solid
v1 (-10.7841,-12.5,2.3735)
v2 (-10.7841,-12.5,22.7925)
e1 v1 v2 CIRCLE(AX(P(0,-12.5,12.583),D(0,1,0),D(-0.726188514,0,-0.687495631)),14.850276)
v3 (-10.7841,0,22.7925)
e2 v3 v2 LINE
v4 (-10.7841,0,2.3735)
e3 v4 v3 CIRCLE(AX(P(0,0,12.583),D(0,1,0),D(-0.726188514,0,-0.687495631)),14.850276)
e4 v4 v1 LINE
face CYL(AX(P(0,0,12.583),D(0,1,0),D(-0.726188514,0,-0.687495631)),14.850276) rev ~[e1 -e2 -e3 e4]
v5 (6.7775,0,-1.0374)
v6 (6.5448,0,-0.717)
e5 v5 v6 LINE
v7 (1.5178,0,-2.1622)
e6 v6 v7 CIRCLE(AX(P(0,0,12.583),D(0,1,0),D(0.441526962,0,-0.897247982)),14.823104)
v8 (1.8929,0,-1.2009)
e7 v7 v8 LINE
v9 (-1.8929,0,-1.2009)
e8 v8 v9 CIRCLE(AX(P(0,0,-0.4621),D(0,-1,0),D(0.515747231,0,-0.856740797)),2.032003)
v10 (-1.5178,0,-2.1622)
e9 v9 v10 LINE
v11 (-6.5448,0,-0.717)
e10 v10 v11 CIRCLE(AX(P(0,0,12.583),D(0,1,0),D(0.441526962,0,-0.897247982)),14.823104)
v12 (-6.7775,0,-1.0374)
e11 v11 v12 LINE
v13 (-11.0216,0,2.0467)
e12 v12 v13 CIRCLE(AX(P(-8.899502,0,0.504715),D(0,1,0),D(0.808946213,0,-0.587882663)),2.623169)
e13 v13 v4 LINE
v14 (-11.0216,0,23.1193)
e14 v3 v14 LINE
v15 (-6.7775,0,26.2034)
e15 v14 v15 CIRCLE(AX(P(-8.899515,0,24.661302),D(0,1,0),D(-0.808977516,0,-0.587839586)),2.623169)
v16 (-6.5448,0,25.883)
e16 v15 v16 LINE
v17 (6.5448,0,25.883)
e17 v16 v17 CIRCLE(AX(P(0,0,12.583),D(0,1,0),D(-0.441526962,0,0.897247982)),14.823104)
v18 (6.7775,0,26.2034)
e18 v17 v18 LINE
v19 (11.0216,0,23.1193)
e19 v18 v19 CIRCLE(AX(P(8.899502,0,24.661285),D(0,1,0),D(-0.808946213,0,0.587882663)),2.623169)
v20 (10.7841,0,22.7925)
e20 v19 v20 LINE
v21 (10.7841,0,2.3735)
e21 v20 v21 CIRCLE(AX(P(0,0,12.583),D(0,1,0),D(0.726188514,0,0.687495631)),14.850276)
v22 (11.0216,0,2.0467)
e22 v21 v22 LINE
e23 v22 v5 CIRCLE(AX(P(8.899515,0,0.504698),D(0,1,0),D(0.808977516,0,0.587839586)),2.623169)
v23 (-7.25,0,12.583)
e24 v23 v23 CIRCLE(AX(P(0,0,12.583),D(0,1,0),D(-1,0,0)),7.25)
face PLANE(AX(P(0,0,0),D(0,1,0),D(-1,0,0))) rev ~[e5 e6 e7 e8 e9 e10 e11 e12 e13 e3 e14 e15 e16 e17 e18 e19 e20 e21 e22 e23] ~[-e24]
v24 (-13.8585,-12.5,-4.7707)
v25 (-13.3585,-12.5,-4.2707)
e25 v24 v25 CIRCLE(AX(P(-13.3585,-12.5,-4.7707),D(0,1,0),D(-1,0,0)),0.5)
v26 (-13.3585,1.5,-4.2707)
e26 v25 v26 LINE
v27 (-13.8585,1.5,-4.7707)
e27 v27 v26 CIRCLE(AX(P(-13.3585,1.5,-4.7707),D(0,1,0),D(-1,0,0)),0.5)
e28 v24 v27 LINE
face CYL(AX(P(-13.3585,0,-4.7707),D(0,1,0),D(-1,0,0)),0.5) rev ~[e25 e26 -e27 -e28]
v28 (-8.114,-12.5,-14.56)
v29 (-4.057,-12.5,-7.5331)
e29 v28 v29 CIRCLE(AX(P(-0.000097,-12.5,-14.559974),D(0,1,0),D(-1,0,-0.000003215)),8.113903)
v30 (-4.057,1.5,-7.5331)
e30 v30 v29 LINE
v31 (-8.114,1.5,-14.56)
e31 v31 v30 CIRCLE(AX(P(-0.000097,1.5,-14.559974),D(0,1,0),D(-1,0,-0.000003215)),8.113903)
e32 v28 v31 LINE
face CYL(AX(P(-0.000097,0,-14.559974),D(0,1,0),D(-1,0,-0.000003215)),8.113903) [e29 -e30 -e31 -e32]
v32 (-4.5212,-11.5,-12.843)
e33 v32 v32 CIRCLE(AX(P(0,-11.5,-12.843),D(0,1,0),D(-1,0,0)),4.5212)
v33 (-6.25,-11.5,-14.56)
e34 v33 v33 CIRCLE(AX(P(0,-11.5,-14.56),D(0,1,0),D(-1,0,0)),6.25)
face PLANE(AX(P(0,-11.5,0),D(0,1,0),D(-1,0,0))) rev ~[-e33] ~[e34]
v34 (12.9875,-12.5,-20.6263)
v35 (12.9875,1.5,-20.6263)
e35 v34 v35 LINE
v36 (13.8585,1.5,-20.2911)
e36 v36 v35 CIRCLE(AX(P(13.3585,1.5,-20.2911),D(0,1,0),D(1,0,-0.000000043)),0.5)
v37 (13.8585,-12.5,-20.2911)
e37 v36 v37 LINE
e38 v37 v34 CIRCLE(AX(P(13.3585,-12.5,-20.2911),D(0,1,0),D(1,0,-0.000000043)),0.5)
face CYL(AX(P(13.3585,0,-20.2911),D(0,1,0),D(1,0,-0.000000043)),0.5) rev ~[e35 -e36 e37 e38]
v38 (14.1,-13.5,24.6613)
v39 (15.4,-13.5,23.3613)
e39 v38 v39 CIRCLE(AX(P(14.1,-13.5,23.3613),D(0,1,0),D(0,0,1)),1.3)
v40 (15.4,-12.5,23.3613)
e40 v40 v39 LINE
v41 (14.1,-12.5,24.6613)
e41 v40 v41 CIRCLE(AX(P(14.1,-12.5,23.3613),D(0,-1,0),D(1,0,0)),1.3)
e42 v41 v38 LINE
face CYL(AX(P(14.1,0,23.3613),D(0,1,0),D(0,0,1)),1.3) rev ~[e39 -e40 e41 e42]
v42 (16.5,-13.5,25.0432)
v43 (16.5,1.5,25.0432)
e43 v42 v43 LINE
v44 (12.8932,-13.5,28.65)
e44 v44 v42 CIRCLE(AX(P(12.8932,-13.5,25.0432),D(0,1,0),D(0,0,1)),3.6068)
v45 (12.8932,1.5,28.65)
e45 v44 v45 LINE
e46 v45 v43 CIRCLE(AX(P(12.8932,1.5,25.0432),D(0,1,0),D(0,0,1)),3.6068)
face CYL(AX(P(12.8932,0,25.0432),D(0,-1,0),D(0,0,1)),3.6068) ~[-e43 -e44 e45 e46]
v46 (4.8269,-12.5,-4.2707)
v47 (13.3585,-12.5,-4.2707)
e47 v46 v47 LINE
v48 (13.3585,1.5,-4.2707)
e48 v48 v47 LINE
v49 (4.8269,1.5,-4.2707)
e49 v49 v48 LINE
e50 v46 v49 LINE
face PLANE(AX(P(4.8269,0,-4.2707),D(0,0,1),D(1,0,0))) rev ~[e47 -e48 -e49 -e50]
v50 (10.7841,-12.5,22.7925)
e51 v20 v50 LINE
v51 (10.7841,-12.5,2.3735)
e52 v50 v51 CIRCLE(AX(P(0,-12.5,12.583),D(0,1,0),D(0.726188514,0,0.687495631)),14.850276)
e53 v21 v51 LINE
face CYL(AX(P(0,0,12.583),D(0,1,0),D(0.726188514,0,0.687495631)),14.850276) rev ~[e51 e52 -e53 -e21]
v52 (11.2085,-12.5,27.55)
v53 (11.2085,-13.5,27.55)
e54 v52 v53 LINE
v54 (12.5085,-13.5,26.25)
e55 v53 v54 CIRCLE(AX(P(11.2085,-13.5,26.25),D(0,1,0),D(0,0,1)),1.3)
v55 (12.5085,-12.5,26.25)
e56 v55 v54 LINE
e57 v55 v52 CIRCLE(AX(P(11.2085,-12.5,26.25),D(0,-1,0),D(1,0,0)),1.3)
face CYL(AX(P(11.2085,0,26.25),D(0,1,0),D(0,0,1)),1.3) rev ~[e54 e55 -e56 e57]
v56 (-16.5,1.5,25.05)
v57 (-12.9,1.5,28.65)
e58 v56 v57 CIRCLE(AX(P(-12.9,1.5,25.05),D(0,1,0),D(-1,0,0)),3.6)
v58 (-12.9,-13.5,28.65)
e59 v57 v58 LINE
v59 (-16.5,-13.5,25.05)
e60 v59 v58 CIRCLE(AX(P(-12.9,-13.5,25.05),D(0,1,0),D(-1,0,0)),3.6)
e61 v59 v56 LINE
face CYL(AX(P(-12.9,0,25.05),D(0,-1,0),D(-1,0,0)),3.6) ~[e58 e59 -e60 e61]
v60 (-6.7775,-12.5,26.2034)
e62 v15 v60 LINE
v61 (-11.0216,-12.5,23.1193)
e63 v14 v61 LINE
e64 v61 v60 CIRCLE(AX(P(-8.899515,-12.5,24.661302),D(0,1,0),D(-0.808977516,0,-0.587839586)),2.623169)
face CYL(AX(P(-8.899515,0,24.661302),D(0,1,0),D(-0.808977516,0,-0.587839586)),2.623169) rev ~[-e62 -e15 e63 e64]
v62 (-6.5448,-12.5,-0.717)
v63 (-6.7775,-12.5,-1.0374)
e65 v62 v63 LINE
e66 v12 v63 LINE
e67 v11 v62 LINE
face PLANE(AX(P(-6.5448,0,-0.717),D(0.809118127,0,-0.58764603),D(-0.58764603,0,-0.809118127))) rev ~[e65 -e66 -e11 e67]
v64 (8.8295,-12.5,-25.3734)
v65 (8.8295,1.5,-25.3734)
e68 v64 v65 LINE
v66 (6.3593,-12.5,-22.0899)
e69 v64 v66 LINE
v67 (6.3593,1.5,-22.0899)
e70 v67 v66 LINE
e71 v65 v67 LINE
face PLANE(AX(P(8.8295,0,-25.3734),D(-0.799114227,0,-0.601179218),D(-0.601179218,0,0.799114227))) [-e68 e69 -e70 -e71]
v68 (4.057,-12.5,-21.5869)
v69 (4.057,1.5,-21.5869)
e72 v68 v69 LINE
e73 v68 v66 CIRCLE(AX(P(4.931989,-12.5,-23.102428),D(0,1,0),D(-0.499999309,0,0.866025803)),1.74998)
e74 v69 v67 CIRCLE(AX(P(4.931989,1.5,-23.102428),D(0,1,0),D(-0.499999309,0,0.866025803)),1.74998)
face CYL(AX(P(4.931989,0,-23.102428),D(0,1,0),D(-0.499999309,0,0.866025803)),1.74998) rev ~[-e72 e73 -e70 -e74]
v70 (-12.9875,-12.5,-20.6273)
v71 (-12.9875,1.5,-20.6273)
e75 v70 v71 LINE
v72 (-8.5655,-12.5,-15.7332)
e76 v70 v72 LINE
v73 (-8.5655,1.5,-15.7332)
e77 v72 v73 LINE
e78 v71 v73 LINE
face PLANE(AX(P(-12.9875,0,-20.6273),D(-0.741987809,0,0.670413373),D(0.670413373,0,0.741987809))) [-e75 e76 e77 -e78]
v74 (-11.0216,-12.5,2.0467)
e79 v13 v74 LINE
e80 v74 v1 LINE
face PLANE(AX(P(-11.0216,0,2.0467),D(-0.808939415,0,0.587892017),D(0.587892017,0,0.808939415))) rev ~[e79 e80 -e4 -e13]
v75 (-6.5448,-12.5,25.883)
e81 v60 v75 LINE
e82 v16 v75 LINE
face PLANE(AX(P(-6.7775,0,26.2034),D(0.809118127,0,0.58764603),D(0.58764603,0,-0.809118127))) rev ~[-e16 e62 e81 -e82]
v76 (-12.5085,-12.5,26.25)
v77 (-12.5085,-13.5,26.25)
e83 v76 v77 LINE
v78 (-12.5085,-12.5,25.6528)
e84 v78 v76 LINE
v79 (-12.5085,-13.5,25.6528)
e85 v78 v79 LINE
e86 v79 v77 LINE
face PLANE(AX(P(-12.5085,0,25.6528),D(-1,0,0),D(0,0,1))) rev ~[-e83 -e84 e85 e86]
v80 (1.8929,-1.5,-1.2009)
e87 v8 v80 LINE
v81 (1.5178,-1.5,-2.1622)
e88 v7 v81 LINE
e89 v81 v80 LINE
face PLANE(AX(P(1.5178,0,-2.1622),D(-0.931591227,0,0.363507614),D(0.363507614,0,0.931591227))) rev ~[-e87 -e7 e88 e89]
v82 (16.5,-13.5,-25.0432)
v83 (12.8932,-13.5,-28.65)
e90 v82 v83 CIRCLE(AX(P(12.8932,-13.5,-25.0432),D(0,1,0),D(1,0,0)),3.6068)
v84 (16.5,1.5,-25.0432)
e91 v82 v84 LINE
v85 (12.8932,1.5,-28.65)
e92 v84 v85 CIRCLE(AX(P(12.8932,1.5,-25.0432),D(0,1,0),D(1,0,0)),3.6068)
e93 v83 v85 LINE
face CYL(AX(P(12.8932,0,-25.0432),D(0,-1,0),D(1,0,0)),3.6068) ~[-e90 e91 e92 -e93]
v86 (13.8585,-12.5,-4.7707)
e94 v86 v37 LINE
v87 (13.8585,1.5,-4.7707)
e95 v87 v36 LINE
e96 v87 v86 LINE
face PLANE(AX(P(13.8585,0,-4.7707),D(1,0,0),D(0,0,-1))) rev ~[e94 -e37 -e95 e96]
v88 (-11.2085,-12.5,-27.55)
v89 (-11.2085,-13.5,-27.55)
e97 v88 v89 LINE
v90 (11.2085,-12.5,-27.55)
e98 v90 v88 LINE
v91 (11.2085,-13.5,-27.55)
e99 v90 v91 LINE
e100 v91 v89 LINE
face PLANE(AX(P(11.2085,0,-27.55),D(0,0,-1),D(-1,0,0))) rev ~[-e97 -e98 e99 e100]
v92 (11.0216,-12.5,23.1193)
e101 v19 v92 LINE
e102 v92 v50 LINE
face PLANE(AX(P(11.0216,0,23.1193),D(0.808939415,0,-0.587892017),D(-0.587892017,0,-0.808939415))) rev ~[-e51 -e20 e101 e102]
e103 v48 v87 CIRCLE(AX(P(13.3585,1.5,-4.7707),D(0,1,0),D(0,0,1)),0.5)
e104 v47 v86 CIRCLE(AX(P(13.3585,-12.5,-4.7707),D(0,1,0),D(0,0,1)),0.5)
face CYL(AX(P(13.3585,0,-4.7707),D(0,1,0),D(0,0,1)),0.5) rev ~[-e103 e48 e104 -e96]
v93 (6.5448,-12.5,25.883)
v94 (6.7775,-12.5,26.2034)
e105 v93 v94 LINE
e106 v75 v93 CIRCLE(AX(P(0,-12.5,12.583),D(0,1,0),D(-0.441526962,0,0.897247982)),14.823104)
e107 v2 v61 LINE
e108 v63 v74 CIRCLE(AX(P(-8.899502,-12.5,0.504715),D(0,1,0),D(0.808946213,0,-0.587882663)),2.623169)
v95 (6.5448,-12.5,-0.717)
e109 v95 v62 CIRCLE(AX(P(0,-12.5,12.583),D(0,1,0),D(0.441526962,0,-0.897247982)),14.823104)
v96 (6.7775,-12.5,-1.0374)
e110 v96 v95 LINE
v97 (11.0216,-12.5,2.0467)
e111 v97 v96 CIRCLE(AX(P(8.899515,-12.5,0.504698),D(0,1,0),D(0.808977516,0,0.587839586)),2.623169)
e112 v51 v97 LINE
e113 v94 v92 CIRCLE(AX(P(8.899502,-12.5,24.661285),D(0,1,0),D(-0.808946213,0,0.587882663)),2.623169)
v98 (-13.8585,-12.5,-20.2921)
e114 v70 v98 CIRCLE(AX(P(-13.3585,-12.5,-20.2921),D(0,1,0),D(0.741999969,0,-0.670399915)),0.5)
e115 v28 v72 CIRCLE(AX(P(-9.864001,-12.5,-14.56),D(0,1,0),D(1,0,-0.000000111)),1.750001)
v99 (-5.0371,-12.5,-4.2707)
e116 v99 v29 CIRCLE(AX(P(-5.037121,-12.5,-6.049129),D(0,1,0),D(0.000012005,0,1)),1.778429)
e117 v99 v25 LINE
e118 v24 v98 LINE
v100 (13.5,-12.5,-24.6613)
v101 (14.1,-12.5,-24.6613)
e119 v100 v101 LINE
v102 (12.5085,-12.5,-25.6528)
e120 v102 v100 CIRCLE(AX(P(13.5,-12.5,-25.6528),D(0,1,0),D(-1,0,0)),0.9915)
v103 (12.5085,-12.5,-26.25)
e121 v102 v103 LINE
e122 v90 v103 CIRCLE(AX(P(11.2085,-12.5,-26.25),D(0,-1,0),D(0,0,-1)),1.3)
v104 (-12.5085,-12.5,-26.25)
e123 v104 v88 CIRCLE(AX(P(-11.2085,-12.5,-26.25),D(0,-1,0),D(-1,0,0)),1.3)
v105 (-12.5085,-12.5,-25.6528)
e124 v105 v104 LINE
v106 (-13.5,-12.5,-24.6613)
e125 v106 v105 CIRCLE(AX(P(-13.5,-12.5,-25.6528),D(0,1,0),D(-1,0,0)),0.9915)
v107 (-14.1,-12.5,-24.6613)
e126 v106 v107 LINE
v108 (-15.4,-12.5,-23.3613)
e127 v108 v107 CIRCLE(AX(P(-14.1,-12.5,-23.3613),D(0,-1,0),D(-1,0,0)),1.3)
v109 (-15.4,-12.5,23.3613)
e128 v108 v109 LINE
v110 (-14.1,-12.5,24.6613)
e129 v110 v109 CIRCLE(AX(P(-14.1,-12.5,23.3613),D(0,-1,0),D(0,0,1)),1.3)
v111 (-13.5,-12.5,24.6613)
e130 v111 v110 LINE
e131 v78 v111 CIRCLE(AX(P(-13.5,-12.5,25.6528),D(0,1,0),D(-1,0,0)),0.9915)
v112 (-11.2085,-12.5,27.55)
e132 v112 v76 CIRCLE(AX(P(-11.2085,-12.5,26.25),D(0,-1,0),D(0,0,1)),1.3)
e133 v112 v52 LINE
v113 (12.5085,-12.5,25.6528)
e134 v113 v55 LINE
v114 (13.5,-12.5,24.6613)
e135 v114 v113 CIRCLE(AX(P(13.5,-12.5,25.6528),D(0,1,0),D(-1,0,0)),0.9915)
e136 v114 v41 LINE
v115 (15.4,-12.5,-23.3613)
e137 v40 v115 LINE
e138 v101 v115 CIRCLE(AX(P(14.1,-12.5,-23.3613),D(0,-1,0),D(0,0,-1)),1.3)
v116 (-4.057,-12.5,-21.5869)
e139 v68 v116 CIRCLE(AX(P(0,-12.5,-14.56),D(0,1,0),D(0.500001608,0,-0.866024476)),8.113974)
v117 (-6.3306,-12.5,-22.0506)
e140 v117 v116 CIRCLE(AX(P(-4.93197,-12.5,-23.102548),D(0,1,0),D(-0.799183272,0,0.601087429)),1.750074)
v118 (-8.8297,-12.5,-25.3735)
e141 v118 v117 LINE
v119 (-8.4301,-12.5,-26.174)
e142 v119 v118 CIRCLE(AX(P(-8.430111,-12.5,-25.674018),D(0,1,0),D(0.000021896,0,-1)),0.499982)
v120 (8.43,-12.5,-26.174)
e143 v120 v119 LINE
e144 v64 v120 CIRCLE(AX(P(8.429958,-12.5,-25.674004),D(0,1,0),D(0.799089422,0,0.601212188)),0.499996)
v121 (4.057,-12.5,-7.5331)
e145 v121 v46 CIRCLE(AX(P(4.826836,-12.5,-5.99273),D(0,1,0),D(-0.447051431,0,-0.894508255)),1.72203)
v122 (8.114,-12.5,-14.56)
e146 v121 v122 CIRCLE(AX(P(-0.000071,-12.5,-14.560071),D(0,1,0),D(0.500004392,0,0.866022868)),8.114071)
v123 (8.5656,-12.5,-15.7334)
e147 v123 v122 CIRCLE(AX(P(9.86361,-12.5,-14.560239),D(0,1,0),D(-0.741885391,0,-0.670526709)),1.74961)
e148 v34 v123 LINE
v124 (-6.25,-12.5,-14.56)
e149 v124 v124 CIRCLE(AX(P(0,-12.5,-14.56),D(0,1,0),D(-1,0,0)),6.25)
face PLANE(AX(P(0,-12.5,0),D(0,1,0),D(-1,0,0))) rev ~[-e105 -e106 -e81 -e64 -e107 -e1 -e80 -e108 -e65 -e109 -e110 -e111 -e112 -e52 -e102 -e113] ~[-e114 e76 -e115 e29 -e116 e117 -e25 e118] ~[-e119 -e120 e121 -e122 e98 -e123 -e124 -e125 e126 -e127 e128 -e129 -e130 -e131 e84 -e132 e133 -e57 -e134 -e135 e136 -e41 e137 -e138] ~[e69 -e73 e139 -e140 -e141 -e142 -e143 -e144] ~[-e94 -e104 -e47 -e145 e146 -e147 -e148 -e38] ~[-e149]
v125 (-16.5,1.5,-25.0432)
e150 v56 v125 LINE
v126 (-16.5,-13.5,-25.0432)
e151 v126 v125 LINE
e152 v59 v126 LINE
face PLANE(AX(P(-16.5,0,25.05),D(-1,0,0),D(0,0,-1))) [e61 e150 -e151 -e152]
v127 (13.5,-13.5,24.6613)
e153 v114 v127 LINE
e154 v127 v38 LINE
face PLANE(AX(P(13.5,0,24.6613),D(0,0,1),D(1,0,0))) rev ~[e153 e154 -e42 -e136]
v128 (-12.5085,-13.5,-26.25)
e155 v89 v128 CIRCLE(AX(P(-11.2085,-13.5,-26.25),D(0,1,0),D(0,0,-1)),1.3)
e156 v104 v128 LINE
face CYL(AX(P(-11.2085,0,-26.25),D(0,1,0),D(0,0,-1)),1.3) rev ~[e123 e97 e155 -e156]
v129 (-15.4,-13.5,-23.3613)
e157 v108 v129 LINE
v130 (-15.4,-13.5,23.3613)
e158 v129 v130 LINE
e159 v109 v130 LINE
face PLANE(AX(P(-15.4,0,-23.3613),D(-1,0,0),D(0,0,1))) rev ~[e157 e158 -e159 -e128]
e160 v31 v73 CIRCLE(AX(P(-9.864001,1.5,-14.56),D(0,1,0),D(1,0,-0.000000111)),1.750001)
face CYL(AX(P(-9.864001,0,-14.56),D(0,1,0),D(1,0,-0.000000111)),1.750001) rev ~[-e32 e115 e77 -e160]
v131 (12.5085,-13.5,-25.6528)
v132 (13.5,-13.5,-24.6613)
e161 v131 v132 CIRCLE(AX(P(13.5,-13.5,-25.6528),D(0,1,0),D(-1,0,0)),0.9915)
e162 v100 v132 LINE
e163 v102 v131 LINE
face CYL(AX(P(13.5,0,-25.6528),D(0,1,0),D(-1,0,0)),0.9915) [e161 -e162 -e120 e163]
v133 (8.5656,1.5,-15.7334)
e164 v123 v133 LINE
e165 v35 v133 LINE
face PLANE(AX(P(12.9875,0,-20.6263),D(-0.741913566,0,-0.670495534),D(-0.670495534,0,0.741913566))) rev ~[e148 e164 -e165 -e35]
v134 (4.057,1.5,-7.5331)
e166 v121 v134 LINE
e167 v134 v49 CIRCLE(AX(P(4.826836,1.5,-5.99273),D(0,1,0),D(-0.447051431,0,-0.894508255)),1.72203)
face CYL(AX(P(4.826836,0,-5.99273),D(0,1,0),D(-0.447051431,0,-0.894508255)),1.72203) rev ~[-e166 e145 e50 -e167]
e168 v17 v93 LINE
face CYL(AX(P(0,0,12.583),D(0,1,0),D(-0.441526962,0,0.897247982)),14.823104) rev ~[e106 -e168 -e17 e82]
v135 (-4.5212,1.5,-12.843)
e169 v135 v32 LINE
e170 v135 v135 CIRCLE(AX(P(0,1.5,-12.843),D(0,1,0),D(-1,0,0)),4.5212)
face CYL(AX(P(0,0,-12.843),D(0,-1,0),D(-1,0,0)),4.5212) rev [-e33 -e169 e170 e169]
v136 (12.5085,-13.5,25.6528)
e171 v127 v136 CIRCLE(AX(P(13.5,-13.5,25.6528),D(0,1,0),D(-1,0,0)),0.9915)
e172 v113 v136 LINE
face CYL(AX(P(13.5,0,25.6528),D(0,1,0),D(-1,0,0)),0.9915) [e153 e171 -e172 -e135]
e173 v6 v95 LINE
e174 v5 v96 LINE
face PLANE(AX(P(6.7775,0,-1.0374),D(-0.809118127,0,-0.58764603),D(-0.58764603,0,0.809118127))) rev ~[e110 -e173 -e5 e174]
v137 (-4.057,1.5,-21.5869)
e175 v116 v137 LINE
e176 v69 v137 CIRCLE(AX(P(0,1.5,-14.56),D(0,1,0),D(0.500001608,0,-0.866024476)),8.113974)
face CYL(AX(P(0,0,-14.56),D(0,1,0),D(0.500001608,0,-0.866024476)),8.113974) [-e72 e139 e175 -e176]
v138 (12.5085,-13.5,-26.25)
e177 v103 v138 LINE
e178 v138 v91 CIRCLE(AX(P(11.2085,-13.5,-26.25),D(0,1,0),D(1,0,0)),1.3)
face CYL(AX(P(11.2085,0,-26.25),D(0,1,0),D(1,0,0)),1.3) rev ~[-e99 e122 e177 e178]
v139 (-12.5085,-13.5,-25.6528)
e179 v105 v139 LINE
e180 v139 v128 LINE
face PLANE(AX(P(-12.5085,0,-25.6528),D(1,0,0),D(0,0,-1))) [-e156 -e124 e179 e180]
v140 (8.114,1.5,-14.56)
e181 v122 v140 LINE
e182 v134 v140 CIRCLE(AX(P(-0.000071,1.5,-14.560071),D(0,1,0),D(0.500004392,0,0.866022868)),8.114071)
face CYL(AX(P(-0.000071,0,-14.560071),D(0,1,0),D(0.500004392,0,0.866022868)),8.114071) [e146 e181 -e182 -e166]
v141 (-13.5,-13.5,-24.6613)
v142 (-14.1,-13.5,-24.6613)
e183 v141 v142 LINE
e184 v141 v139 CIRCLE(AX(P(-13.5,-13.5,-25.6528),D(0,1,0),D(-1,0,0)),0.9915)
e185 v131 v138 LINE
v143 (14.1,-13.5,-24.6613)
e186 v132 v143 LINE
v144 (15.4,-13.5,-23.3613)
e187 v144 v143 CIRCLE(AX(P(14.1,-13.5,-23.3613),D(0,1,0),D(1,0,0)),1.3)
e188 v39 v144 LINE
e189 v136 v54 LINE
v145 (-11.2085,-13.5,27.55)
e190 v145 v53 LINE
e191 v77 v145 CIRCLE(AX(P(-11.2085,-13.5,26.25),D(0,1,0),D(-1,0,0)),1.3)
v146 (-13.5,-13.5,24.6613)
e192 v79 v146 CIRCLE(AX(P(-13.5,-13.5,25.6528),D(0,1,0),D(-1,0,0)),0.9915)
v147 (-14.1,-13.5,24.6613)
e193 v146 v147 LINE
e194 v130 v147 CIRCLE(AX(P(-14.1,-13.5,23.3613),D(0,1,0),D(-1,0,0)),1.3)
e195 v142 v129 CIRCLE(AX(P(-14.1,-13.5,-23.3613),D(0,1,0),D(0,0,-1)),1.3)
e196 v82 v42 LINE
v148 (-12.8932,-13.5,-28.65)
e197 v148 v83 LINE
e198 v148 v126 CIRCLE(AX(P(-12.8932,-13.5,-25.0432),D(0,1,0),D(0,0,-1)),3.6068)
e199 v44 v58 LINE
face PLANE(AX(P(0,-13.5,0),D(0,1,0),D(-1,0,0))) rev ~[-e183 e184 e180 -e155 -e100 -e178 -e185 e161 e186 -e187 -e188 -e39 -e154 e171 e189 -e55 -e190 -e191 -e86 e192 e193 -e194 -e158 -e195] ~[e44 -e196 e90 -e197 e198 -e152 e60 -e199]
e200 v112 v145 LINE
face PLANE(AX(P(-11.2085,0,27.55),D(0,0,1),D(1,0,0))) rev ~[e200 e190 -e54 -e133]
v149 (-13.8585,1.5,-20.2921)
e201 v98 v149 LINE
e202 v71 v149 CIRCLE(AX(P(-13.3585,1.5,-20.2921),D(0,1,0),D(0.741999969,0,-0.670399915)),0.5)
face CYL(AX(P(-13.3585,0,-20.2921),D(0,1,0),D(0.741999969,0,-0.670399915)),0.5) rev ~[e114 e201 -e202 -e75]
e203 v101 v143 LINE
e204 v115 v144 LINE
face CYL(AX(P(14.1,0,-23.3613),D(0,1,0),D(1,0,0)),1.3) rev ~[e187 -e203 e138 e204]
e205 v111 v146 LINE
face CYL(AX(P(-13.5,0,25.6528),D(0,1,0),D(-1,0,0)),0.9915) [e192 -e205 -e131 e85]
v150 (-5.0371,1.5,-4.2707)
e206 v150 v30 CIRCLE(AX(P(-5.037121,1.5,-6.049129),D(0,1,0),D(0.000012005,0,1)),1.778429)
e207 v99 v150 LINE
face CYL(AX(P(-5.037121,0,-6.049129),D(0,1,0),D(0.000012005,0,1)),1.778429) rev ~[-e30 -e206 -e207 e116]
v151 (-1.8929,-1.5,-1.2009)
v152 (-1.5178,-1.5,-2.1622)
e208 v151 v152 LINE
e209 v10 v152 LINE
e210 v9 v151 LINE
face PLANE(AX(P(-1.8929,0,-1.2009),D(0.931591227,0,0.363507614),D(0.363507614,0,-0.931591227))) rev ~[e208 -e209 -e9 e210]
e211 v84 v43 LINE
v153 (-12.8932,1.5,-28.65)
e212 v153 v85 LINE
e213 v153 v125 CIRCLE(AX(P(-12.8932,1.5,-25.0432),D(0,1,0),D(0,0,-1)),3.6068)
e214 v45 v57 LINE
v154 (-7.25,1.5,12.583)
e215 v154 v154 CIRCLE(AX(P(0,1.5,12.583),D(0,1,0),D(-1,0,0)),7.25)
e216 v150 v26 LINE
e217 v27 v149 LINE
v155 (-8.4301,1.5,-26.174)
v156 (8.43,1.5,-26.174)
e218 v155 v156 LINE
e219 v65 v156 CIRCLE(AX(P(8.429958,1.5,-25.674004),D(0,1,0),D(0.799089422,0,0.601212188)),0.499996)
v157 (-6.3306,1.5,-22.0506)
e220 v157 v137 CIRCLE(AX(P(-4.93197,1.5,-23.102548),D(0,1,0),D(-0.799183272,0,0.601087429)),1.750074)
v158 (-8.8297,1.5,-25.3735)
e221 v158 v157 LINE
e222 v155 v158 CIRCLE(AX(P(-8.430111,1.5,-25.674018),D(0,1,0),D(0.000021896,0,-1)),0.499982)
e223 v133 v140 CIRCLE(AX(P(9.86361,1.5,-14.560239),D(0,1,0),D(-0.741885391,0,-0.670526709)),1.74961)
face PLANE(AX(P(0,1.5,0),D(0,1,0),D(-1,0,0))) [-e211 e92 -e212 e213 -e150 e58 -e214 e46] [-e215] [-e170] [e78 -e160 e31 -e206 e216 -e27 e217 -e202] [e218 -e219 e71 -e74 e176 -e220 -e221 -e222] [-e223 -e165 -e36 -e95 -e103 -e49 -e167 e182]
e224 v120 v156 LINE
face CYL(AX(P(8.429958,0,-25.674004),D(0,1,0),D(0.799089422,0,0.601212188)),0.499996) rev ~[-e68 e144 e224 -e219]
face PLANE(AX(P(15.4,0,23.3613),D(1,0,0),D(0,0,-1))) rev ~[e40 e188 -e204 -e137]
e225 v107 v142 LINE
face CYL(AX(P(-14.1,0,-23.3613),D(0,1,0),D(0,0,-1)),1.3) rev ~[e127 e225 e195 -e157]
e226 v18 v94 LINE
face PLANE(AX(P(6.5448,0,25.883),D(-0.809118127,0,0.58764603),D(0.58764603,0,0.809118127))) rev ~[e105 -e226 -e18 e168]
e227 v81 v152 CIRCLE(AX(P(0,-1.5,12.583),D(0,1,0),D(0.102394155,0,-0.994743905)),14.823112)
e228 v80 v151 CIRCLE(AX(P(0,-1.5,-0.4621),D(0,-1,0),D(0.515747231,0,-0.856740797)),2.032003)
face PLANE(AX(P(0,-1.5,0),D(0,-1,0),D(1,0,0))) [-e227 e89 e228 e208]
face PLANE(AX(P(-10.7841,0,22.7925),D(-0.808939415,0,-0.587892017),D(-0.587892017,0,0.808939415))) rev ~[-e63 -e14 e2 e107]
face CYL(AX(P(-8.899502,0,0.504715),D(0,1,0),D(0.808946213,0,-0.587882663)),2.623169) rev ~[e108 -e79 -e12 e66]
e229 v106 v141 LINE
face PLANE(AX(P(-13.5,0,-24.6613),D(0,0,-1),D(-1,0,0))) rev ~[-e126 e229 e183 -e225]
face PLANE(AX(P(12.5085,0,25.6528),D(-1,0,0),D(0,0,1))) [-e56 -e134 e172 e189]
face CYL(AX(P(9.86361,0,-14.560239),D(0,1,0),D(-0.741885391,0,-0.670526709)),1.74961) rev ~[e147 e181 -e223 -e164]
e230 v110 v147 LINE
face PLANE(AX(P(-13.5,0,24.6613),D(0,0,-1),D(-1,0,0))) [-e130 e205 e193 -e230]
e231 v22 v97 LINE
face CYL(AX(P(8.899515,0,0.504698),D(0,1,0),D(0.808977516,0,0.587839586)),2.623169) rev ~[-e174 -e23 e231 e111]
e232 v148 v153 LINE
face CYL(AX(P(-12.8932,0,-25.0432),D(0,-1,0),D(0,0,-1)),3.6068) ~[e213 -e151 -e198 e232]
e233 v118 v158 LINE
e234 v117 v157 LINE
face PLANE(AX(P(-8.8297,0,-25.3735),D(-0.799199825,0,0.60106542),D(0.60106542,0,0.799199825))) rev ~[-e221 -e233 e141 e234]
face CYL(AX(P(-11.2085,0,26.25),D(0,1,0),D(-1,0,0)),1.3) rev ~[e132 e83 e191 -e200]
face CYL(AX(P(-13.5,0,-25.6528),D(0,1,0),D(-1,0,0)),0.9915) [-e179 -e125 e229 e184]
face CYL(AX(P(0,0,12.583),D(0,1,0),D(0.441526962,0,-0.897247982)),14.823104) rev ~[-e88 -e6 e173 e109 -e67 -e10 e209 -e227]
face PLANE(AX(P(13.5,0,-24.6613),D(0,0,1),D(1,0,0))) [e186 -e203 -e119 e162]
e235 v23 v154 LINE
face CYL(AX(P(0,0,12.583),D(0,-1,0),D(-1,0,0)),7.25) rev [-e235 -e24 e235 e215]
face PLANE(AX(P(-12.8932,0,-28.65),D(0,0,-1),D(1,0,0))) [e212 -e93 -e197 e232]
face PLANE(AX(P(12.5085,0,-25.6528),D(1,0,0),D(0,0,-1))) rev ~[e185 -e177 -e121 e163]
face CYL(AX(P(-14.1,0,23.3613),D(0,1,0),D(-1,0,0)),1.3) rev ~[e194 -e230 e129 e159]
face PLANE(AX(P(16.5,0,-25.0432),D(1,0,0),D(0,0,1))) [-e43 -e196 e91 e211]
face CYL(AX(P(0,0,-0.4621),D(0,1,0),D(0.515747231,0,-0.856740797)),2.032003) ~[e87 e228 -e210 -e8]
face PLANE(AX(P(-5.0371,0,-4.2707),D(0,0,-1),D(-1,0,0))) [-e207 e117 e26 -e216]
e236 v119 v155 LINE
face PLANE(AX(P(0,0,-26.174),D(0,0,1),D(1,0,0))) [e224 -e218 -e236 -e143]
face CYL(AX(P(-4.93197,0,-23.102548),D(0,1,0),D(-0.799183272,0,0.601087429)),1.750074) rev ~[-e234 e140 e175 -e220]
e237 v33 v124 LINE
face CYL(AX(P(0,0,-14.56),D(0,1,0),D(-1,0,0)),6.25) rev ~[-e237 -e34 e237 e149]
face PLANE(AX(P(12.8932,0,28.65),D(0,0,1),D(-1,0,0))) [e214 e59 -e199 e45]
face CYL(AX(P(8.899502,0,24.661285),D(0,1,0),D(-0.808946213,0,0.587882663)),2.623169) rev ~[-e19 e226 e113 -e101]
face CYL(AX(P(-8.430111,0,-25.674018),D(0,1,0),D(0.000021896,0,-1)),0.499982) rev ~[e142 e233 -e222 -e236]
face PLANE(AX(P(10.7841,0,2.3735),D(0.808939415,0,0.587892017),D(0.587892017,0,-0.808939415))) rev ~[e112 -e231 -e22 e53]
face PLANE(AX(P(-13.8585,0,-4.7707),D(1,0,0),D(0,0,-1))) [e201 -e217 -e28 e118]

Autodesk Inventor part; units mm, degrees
ref_plane "YZ Plane" through (0, 0, 0) normal (1, 0, 0) x (0, 1, 0)
ref_plane "XZ Plane" through (0, 0, 0) normal (0, 1, 0) x (-1, 0, 0)
ref_plane "XY Plane" through (0, 0, 0) normal (0, 0, 1) x (1, 0, 0)
sketch "Sketch5" plane through (0, 0, 0) normal (0, 1, 0) x (-1, 0, 0)
  line L0 (-12.8932, 28.65) -> (12.9, 28.65)
  line L1 (16.5, 25.05) -> (16.5, -25.0432)
  line L2 (12.8932, -28.65) -> (-12.8932, -28.65)
  line L3 (-16.5, -25.0432) -> (-16.5, 25.0432)
  line L4 (-16.5, 28.65) -> (16.5, -28.65) construction
  line L5 (16.5, 28.65) -> (-16.5, -28.65) construction
  arc A0 (16.5, 25.05) -> (12.9, 28.65) centre (12.9, 25.05) ccw
  line L6 (12.9, 28.65) -> (12.9, 25.05) construction
  line L7 (12.9, 25.05) -> (16.5, 25.05) construction
  arc A1 (12.8932, -28.65) -> (16.5, -25.0432) centre (12.8932, -25.0432) ccw
  arc A2 (-12.8932, 28.65) -> (-16.5, 25.0432) centre (-12.8932, 25.0432) ccw
  arc A3 (-16.5, -25.0432) -> (-12.8932, -28.65) centre (-12.8932, -25.0432) ccw
  circle A4 centre (13.5, 25.6528) radius 0.9915
  line L8 (11.2085, 27.55) -> (-11.2085, 27.55)
  arc A5 (-15.517, 25.05) -> (-15.517, 25.0432) centre (-12.8932, 25.0432) ccw
  line L9 (-15.4, 23.3613) -> (-15.4, -23.3613)
  line L10 (-11.2085, -27.55) -> (11.2085, -27.55)
  line L11 (15.4, -23.3613) -> (15.4, 23.3613)
  line L12 (12.5085, 25.6528) -> (12.5085, 26.25)
  line L13 (13.5, 24.6613) -> (14.1, 24.6613)
  arc A6 (12.5085, 26.25) -> (11.2085, 27.55) centre (11.2085, 26.25) ccw
  arc A7 (15.4, 23.3613) -> (14.1, 24.6613) centre (14.1, 23.3613) ccw
  line L14 (15.4, 0) -> (-15.4, 0) construction
  line L15 (0, 27.55) -> (0, -27.55) construction
  circle A8 centre (13.5, -25.6528) radius 0.9915
  line L16 (12.5085, -25.6528) -> (12.5085, -26.25)
  line L17 (13.5, -24.6613) -> (14.1, -24.6613)
  arc A9 (11.2085, -27.55) -> (12.5085, -26.25) centre (11.2085, -26.25) ccw
  arc A10 (14.1, -24.6613) -> (15.4, -23.3613) centre (14.1, -23.3613) ccw
  line L18 (0, -27.55) -> (0, 27.55) construction
  circle A11 centre (-13.5, 25.6528) radius 0.9915
  line L19 (-12.5085, 25.6528) -> (-12.5085, 26.25)
  line L20 (-13.5, 24.6613) -> (-14.1, 24.6613)
  arc A12 (-11.2085, 27.55) -> (-12.5085, 26.25) centre (-11.2085, 26.25) ccw
  arc A13 (-14.1, 24.6613) -> (-15.4, 23.3613) centre (-14.1, 23.3613) ccw
  arc A14 (-12.5085, -26.25) -> (-11.2085, -27.55) centre (-11.2085, -26.25) ccw
  line L21 (-12.5085, -25.6528) -> (-12.5085, -26.25)
  circle A15 centre (-13.5, -25.6528) radius 0.9915
  line L22 (-13.5, -24.6613) -> (-14.1, -24.6613)
  arc A16 (-15.4, -23.3613) -> (-14.1, -24.6613) centre (-14.1, -23.3613) ccw
  line L23 (-12.1355, -25.3386) -> (-12.1355, -25.333)
  line L24 (14.7139, 22.2154) -> (14.827, 22.0092) construction
  circle A17 centre (0, 12.583) radius 7.25
  arc A18 (6.3593, 25.2794) -> (-6.3593, 25.2794) centre (0, 12.583) ccw
  arc A19 (-6.3593, -0.1134) -> (6.3593, -0.1134) centre (0, 12.583) ccw
  line L25 (0, 12.583) -> (-6.3593, -0.1134) construction
  line L26 (0, 12.583) -> (6.3593, -0.1134) construction
  line L27 (0, 12.583) -> (0, -1.617) construction
  line L28 (0, 12.583) -> (16.5, 12.583) construction
  line L29 (-6.3593, -0.1134) -> (-6.3593, 25.2794) construction
  line L30 (6.3593, -0.1134) -> (6.3593, 25.2794) construction
  arc A20 (-6.3593, -0.1134) -> (-6.9877, -0.2666) centre (-6.5832, -0.5605) ccw
  line L31 (-6.9877, -0.2666) -> (-6.5832, -0.5605) construction
  line L32 (-6.5832, -0.5605) -> (-6.3593, -0.1134) construction
  line L33 (-6.9877, -0.2666) -> (-7.2816, -0.671)
  arc A21 (-10.5175, 1.6804) -> (-7.2816, -0.671) centre (-8.8995, 0.5047) ccw
  line L34 (-10.5175, 1.6804) -> (-10.2236, 2.0849)
  arc A22 (-10.2236, 2.0849) -> (-10.2728, 2.7402) centre (-10.6345, 2.3835) ccw
  line L35 (-10.2236, 2.0849) -> (-10.6345, 2.3835) construction
  line L36 (-10.6345, 2.3835) -> (-10.2728, 2.7402) construction
  arc A23 (6.9877, -0.2666) -> (6.3593, -0.1134) centre (6.5832, -0.5605) ccw
  line L37 (6.9877, -0.2666) -> (7.2816, -0.671)
  arc A24 (7.2816, -0.671) -> (10.5175, 1.6804) centre (8.8995, 0.5047) ccw
  line L38 (10.5175, 1.6804) -> (10.2236, 2.0849)
  arc A25 (10.2728, 2.7402) -> (10.2236, 2.0849) centre (10.6345, 2.3835) ccw
  arc A26 (-6.9877, 25.4326) -> (-6.3593, 25.2794) centre (-6.5832, 25.7265) ccw
  line L39 (-6.9877, 25.4326) -> (-7.2816, 25.837)
  arc A27 (-7.2816, 25.837) -> (-10.5175, 23.4856) centre (-8.8995, 24.6613) ccw
  line L40 (-10.5175, 23.4856) -> (-10.2236, 23.0811)
  arc A28 (-10.2728, 22.4258) -> (-10.2236, 23.0811) centre (-10.6345, 22.7825) ccw
  arc A29 (6.3593, 25.2794) -> (6.9877, 25.4326) centre (6.5832, 25.7265) ccw
  line L41 (6.9877, 25.4326) -> (7.2816, 25.837)
  arc A30 (10.5175, 23.4856) -> (7.2816, 25.837) centre (8.8995, 24.6613) ccw
  line L42 (10.5175, 23.4856) -> (10.2236, 23.0811)
  arc A31 (10.2236, 23.0811) -> (10.2728, 22.4258) centre (10.6345, 22.7825) ccw
  arc A32 (-10.2728, 22.4258) -> (-10.2728, 2.7402) centre (0, 12.583) ccw
  arc A33 (10.2728, 2.7402) -> (10.2728, 22.4258) centre (0, 12.583) ccw
  circle A34 centre (0, -12.96) radius 3.955
  line L43 (0, -12.96) -> (0, -18.96) construction
  circle A35 centre (13.5, -25.6528) radius 2
  line L44 (13.5, -25.6528) -> (13.5, -23.6528) construction
  line L45 (13.5, -25.6528) -> (11.5, -25.6528) construction
  line L46 (13.5, -23.6528) -> (15.3669, -23.6528) construction
  line L47 (11.5, -25.6528) -> (11.5, -27.5169) construction
  circle A36 centre (-13.5, -25.6528) radius 2
  circle A37 centre (-13.5, 25.6528) radius 2
  circle A38 centre (13.5, 25.6528) radius 2
  circle A39 centre (0, -12.843) radius 4.5212
  circle A40 centre (0, -14.56) radius 6.25
  line L48 (0, -14.56) -> (-5.807, -24.618) construction
  line L49 (0, -14.56) -> (5.807, -24.618) construction
  arc A41 (-4.057, -21.5869) -> (4.057, -21.5869) centre (0, -14.56) ccw
  arc A42 (-4.057, -21.5869) -> (-6.3593, -22.0899) centre (-4.932, -23.1025) ccw
  arc A43 (6.3306, -22.0506) -> (4.057, -21.5869) centre (4.932, -23.1025) ccw
  line L50 (0, -26.174) -> (-8.43, -26.174)
  line L51 (0, -26.174) -> (8.4301, -26.174)
  line L52 (8.8297, -25.3735) -> (6.3306, -22.0506)
  arc A44 (8.4301, -26.174) -> (8.8297, -25.3735) centre (8.4301, -25.674) ccw
  line L53 (-8.8295, -25.3734) -> (-6.3593, -22.0899)
  arc A45 (-8.8295, -25.3734) -> (-8.43, -26.174) centre (-8.43, -25.674) ccw
  line L54 (-4.8269, -4.2707) -> (-13.3585, -4.2707)
  line L55 (-13.8585, -4.7707) -> (-13.8585, -20.2911)
  line L56 (-12.9875, -20.6263) -> (-8.5656, -15.7334)
  arc A46 (-13.8585, -20.2911) -> (-12.9875, -20.6263) centre (-13.3585, -20.2911) ccw
  arc A47 (-13.3585, -4.2707) -> (-13.8585, -4.7707) centre (-13.3585, -4.7707) ccw
  line L57 (5.0371, -4.2707) -> (13.3585, -4.2707)
  line L58 (13.8585, -4.7707) -> (13.8585, -20.2921)
  line L59 (12.9875, -20.6273) -> (8.5655, -15.7332)
  arc A48 (12.9875, -20.6273) -> (13.8585, -20.2921) centre (13.3585, -20.2921) ccw
  arc A49 (13.8585, -4.7707) -> (13.3585, -4.2707) centre (13.3585, -4.7707) ccw
  arc A50 (8.114, -14.56) -> (4.057, -7.5331) centre (0, -14.56) ccw
  arc A51 (-4.057, -7.5331) -> (-8.114, -14.56) centre (0, -14.56) ccw
  arc A52 (8.114, -14.56) -> (8.5655, -15.7332) centre (9.864, -14.56) ccw
  arc A53 (5.0371, -4.2707) -> (4.057, -7.5331) centre (5.0371, -6.0491) ccw
  arc A54 (-4.057, -7.5331) -> (-4.8269, -4.2707) centre (-4.8269, -5.9927) ccw
  arc A55 (-8.5656, -15.7334) -> (-8.114, -14.56) centre (-9.864, -14.56) ccw
  line L60 (10.7841, 22.7925) -> (11.0216, 23.1193)
  arc A56 (11.0216, 23.1193) -> (6.7775, 26.2034) centre (8.8995, 24.6613) ccw
  line L61 (6.7775, 26.2034) -> (6.5448, 25.883)
  arc A57 (6.5448, 25.883) -> (-6.5448, 25.883) centre (0, 12.583) ccw
  line L62 (-6.5448, 25.883) -> (-6.7775, 26.2034)
  arc A58 (-6.7775, 26.2034) -> (-11.0216, 23.1193) centre (-8.8995, 24.6613) ccw
  line L63 (-11.0216, 23.1193) -> (-10.7841, 22.7925)
  arc A59 (-10.7841, 22.7925) -> (-10.7841, 2.3735) centre (0, 12.583) ccw
  line L64 (-10.7841, 2.3735) -> (-11.0216, 2.0467)
  arc A60 (-11.0216, 2.0467) -> (-6.7775, -1.0374) centre (-8.8995, 0.5047) ccw
  line L65 (-6.7775, -1.0374) -> (-6.5448, -0.717)
  arc A61 (-6.5448, -0.717) -> (6.5448, -0.717) centre (0, 12.583) ccw
  line L66 (6.5448, -0.717) -> (6.7775, -1.0374)
  arc A62 (6.7775, -1.0374) -> (11.0216, 2.0467) centre (8.8995, 0.5047) ccw
  line L67 (11.0216, 2.0467) -> (10.7841, 2.3735)
  arc A63 (10.7841, 2.3735) -> (10.7841, 22.7925) centre (0, 12.583) ccw
  point P0 (0, 0)
  point P1 (0, 0)
  point P2 (-2.4, 0)
  point P3 (-12.1591, 27.1367)
  point P4 (-14.9852, 24.3133)
  point P5 (-14.9852, -24.3133)
  point P6 (-12.1591, -27.1367)
  point P7 (12.1591, -27.1367)
  point P8 (14.9852, -24.3133)
  point P9 (14.9852, 24.3133)
  point P10 (12.1591, 27.1367)
  point P11 (5.807, -24.501)
  point P12 (13.8585, -4.2707)
  dimension "d61" = 57.3
  dimension "d62" = 33
  dimension "d63" = 3.6
  dimension "d64" = 90
  dimension "d65" = 3.6068
  dimension "d66" = 3.6068
  dimension "d67" = 2.9972
  dimension "d68" = 3
  dimension "d69" = 1.983
  dimension "d70" = 1.1
  dimension "d71" = 1.3
  dimension "d74" = 22.417
  dimension "d84" = 14.5
  dimension "d85" = 28.4
  dimension "d87" = 53.21
  dimension "d88" = 0.5
  dimension "d89" = 80.6
  dimension "d90" = 0.5
  dimension "d91" = 2
  dimension "d92" = 0.508
  dimension "d93" = 80.6
  dimension "d98" = 25.543
  dimension "d99" = 7.91
  dimension "d116" = 4
  dimension "d117" = 4
  dimension "d118" = 4
  dimension "d119" = 4
  dimension "d128" = 9.0424
  dimension "d129" = 1.6
  dimension "d130" = 12.5
  dimension "d131" = 60
  dimension "d132" = 30
  dimension "d145" = 0.5
  dimension "d146" = 0.5
  dimension "d147" = 0.5
  dimension "d148" = 0.5
  dimension "d151" = 360
  dimension "d192" = 1.1
  dimension "d193" = 1.1
  dimension "d195" = 1.1
extrude "Extrusion6" add sketch "Sketch5" against normal blind 13.5 contours L0 A0 L1 A1 L2 A3 L3 A2 | A4 | A4 L12 A6 A38 A7 L13 | A4 L13 A7 A38 A6 L12 | A38 A7 L11 A10 A35 A9 L10 A14 A36 A16 L9 A13 A37 A12 L8 A6 | A37 A13 L20 A11 L19 A12 | A12 L19 A11 L20 A13 A37 | A35 A9 L16 A8 L17 A10 | A10 L17 A8 L16 A9 A35 | A11 | A8 | A36 A14 L21 A15 L22 A16 | A16 L22 A15 L21 A14 A36 | A15 | A29 L41 A30 L42 A31 A33 A25 L38 A24 L37 A23 A19 A20 L33 A21 L34 A22 A32 A28 L40 A27 L39 A26 A18 | A34 | A39 | A40 | A41 A43 L52 A44 L51 L50 A45 L53 A42 | A54 A51 A55 L56 A46 L55 A47 L54 | L57 A49 L58 A48 L59 A52 A50 A53 | A63 L67 A62 L66 A61 L65 A60 L64 A59 L63 A58 L62 A57 L61 A56 L60
extrude "Extrusion9" cut sketch "Sketch5" against normal blind 22 contours A4 L13 A7 A38 A6 L12 | A38 A7 L11 A10 A35 A9 L10 A14 A36 A16 L9 A13 A37 A12 L8 A6 | A37 A13 L20 A11 L19 A12 | A10 L17 A8 L16 A9 A35 | A36 A14 L21 A15 L22 A16 | A29 L41 A30 L42 A31 A33 A25 L38 A24 L37 A23 A19 A20 L33 A21 L34 A22 A32 A28 L40 A27 L39 A26 A18 | A34 | A39 | A40 | A41 A43 L52 A44 L51 L50 A45 L53 A42 | A54 A51 A55 L56 A46 L55 A47 L54 | L57 A49 L58 A48 L59 A52 A50 A53 | A63 L67 A62 L66 A61 L65 A60 L64 A59 L63 A58 L62 A57 L61 A56 L60 picked at (13.7589, 24.3277) picked at (-13.7763, 24.3295) picked at (13.7589, -24.3277) picked at (-13.7763, -24.3295)
extrude "Extrusion10" add sketch "Sketch5" against normal blind 12.5 contours A4 L13 A7 A38 A6 L12 | A37 A13 L20 A11 L19 A12 | A10 L17 A8 L16 A9 A35 | A36 A14 L21 A15 L22 A16 picked at (13.7589, 24.3277) picked at (-13.7763, 24.3295) picked at (13.7589, -24.3277) picked at (-13.7763, -24.3295)
extrude "Extrusion11" add sketch "Sketch5" against normal blind 11.5 contours A34 | A39 | A40
extrude "Extrusion12" cut sketch "Sketch5" against normal blind 11.5 contours A34 | A39
extrude "Extrusion13" add sketch "Sketch5" against normal blind 12.5 contours A38 A7 L11 A10 A35 A9 L10 A14 A36 A16 L9 A13 A37 A12 L8 A6
extrude "Extrusion14" add sketch "Sketch5" along normal blind 1.5 contours L0 A0 L1 A1 L2 A3 L3 A2 | A4 | A4 L12 A6 A38 A7 L13 | A4 L13 A7 A38 A6 L12 | A38 A7 L11 A10 A35 A9 L10 A14 A36 A16 L9 A13 A37 A12 L8 A6 | A37 A13 L20 A11 L19 A12 | A12 L19 A11 L20 A13 A37 | A35 A9 L16 A8 L17 A10 | A10 L17 A8 L16 A9 A35 | A11 | A8 | A36 A14 L21 A15 L22 A16 | A16 L22 A15 L21 A14 A36 | A15 | A29 L41 A30 L42 A31 A33 A25 L38 A24 L37 A23 A19 A20 L33 A21 L34 A22 A32 A28 L40 A27 L39 A26 A18 | A40 | A63 L67 A62 L66 A61 L65 A60 L64 A59 L63 A58 L62 A57 L61 A56 L60
sketch "Sketch13" plane through (0, 0, 0) normal (0, -1, 0) x (1, 0, 0)
  arc A0 (-6.5448, -0.717) -> (6.5448, -0.717) centre (0, 12.583) ccw construction
  line L0 (0, -2.2401) -> (0, 1.5699) construction
  arc A1 (1.048, -2.203) -> (-1.048, -2.203) centre (0, -0.4621) ccw
  arc A2 (-1.048, -2.203) -> (1.048, -2.203) centre (0, 12.583) ccw
  line L1 (1.5178, -2.1622) -> (1.8929, -1.2009)
  line L2 (-1.8929, -1.2009) -> (-1.5178, -2.1622)
  arc A3 (-1.5178, -2.1622) -> (1.5178, -2.1622) centre (0, 12.583) ccw
  point P0 (0, 0)
  point P1 (-1.048, -2.203)
  point P2 (1.048, -2.203)
  dimension "d204" = 3.81
  dimension "d205" = 2.032
extrude "Extrusion22" add sketch "Sketch13" along normal blind 1.5
properties part number "CapOGStyle" material "Plastic, Opaque Black"
